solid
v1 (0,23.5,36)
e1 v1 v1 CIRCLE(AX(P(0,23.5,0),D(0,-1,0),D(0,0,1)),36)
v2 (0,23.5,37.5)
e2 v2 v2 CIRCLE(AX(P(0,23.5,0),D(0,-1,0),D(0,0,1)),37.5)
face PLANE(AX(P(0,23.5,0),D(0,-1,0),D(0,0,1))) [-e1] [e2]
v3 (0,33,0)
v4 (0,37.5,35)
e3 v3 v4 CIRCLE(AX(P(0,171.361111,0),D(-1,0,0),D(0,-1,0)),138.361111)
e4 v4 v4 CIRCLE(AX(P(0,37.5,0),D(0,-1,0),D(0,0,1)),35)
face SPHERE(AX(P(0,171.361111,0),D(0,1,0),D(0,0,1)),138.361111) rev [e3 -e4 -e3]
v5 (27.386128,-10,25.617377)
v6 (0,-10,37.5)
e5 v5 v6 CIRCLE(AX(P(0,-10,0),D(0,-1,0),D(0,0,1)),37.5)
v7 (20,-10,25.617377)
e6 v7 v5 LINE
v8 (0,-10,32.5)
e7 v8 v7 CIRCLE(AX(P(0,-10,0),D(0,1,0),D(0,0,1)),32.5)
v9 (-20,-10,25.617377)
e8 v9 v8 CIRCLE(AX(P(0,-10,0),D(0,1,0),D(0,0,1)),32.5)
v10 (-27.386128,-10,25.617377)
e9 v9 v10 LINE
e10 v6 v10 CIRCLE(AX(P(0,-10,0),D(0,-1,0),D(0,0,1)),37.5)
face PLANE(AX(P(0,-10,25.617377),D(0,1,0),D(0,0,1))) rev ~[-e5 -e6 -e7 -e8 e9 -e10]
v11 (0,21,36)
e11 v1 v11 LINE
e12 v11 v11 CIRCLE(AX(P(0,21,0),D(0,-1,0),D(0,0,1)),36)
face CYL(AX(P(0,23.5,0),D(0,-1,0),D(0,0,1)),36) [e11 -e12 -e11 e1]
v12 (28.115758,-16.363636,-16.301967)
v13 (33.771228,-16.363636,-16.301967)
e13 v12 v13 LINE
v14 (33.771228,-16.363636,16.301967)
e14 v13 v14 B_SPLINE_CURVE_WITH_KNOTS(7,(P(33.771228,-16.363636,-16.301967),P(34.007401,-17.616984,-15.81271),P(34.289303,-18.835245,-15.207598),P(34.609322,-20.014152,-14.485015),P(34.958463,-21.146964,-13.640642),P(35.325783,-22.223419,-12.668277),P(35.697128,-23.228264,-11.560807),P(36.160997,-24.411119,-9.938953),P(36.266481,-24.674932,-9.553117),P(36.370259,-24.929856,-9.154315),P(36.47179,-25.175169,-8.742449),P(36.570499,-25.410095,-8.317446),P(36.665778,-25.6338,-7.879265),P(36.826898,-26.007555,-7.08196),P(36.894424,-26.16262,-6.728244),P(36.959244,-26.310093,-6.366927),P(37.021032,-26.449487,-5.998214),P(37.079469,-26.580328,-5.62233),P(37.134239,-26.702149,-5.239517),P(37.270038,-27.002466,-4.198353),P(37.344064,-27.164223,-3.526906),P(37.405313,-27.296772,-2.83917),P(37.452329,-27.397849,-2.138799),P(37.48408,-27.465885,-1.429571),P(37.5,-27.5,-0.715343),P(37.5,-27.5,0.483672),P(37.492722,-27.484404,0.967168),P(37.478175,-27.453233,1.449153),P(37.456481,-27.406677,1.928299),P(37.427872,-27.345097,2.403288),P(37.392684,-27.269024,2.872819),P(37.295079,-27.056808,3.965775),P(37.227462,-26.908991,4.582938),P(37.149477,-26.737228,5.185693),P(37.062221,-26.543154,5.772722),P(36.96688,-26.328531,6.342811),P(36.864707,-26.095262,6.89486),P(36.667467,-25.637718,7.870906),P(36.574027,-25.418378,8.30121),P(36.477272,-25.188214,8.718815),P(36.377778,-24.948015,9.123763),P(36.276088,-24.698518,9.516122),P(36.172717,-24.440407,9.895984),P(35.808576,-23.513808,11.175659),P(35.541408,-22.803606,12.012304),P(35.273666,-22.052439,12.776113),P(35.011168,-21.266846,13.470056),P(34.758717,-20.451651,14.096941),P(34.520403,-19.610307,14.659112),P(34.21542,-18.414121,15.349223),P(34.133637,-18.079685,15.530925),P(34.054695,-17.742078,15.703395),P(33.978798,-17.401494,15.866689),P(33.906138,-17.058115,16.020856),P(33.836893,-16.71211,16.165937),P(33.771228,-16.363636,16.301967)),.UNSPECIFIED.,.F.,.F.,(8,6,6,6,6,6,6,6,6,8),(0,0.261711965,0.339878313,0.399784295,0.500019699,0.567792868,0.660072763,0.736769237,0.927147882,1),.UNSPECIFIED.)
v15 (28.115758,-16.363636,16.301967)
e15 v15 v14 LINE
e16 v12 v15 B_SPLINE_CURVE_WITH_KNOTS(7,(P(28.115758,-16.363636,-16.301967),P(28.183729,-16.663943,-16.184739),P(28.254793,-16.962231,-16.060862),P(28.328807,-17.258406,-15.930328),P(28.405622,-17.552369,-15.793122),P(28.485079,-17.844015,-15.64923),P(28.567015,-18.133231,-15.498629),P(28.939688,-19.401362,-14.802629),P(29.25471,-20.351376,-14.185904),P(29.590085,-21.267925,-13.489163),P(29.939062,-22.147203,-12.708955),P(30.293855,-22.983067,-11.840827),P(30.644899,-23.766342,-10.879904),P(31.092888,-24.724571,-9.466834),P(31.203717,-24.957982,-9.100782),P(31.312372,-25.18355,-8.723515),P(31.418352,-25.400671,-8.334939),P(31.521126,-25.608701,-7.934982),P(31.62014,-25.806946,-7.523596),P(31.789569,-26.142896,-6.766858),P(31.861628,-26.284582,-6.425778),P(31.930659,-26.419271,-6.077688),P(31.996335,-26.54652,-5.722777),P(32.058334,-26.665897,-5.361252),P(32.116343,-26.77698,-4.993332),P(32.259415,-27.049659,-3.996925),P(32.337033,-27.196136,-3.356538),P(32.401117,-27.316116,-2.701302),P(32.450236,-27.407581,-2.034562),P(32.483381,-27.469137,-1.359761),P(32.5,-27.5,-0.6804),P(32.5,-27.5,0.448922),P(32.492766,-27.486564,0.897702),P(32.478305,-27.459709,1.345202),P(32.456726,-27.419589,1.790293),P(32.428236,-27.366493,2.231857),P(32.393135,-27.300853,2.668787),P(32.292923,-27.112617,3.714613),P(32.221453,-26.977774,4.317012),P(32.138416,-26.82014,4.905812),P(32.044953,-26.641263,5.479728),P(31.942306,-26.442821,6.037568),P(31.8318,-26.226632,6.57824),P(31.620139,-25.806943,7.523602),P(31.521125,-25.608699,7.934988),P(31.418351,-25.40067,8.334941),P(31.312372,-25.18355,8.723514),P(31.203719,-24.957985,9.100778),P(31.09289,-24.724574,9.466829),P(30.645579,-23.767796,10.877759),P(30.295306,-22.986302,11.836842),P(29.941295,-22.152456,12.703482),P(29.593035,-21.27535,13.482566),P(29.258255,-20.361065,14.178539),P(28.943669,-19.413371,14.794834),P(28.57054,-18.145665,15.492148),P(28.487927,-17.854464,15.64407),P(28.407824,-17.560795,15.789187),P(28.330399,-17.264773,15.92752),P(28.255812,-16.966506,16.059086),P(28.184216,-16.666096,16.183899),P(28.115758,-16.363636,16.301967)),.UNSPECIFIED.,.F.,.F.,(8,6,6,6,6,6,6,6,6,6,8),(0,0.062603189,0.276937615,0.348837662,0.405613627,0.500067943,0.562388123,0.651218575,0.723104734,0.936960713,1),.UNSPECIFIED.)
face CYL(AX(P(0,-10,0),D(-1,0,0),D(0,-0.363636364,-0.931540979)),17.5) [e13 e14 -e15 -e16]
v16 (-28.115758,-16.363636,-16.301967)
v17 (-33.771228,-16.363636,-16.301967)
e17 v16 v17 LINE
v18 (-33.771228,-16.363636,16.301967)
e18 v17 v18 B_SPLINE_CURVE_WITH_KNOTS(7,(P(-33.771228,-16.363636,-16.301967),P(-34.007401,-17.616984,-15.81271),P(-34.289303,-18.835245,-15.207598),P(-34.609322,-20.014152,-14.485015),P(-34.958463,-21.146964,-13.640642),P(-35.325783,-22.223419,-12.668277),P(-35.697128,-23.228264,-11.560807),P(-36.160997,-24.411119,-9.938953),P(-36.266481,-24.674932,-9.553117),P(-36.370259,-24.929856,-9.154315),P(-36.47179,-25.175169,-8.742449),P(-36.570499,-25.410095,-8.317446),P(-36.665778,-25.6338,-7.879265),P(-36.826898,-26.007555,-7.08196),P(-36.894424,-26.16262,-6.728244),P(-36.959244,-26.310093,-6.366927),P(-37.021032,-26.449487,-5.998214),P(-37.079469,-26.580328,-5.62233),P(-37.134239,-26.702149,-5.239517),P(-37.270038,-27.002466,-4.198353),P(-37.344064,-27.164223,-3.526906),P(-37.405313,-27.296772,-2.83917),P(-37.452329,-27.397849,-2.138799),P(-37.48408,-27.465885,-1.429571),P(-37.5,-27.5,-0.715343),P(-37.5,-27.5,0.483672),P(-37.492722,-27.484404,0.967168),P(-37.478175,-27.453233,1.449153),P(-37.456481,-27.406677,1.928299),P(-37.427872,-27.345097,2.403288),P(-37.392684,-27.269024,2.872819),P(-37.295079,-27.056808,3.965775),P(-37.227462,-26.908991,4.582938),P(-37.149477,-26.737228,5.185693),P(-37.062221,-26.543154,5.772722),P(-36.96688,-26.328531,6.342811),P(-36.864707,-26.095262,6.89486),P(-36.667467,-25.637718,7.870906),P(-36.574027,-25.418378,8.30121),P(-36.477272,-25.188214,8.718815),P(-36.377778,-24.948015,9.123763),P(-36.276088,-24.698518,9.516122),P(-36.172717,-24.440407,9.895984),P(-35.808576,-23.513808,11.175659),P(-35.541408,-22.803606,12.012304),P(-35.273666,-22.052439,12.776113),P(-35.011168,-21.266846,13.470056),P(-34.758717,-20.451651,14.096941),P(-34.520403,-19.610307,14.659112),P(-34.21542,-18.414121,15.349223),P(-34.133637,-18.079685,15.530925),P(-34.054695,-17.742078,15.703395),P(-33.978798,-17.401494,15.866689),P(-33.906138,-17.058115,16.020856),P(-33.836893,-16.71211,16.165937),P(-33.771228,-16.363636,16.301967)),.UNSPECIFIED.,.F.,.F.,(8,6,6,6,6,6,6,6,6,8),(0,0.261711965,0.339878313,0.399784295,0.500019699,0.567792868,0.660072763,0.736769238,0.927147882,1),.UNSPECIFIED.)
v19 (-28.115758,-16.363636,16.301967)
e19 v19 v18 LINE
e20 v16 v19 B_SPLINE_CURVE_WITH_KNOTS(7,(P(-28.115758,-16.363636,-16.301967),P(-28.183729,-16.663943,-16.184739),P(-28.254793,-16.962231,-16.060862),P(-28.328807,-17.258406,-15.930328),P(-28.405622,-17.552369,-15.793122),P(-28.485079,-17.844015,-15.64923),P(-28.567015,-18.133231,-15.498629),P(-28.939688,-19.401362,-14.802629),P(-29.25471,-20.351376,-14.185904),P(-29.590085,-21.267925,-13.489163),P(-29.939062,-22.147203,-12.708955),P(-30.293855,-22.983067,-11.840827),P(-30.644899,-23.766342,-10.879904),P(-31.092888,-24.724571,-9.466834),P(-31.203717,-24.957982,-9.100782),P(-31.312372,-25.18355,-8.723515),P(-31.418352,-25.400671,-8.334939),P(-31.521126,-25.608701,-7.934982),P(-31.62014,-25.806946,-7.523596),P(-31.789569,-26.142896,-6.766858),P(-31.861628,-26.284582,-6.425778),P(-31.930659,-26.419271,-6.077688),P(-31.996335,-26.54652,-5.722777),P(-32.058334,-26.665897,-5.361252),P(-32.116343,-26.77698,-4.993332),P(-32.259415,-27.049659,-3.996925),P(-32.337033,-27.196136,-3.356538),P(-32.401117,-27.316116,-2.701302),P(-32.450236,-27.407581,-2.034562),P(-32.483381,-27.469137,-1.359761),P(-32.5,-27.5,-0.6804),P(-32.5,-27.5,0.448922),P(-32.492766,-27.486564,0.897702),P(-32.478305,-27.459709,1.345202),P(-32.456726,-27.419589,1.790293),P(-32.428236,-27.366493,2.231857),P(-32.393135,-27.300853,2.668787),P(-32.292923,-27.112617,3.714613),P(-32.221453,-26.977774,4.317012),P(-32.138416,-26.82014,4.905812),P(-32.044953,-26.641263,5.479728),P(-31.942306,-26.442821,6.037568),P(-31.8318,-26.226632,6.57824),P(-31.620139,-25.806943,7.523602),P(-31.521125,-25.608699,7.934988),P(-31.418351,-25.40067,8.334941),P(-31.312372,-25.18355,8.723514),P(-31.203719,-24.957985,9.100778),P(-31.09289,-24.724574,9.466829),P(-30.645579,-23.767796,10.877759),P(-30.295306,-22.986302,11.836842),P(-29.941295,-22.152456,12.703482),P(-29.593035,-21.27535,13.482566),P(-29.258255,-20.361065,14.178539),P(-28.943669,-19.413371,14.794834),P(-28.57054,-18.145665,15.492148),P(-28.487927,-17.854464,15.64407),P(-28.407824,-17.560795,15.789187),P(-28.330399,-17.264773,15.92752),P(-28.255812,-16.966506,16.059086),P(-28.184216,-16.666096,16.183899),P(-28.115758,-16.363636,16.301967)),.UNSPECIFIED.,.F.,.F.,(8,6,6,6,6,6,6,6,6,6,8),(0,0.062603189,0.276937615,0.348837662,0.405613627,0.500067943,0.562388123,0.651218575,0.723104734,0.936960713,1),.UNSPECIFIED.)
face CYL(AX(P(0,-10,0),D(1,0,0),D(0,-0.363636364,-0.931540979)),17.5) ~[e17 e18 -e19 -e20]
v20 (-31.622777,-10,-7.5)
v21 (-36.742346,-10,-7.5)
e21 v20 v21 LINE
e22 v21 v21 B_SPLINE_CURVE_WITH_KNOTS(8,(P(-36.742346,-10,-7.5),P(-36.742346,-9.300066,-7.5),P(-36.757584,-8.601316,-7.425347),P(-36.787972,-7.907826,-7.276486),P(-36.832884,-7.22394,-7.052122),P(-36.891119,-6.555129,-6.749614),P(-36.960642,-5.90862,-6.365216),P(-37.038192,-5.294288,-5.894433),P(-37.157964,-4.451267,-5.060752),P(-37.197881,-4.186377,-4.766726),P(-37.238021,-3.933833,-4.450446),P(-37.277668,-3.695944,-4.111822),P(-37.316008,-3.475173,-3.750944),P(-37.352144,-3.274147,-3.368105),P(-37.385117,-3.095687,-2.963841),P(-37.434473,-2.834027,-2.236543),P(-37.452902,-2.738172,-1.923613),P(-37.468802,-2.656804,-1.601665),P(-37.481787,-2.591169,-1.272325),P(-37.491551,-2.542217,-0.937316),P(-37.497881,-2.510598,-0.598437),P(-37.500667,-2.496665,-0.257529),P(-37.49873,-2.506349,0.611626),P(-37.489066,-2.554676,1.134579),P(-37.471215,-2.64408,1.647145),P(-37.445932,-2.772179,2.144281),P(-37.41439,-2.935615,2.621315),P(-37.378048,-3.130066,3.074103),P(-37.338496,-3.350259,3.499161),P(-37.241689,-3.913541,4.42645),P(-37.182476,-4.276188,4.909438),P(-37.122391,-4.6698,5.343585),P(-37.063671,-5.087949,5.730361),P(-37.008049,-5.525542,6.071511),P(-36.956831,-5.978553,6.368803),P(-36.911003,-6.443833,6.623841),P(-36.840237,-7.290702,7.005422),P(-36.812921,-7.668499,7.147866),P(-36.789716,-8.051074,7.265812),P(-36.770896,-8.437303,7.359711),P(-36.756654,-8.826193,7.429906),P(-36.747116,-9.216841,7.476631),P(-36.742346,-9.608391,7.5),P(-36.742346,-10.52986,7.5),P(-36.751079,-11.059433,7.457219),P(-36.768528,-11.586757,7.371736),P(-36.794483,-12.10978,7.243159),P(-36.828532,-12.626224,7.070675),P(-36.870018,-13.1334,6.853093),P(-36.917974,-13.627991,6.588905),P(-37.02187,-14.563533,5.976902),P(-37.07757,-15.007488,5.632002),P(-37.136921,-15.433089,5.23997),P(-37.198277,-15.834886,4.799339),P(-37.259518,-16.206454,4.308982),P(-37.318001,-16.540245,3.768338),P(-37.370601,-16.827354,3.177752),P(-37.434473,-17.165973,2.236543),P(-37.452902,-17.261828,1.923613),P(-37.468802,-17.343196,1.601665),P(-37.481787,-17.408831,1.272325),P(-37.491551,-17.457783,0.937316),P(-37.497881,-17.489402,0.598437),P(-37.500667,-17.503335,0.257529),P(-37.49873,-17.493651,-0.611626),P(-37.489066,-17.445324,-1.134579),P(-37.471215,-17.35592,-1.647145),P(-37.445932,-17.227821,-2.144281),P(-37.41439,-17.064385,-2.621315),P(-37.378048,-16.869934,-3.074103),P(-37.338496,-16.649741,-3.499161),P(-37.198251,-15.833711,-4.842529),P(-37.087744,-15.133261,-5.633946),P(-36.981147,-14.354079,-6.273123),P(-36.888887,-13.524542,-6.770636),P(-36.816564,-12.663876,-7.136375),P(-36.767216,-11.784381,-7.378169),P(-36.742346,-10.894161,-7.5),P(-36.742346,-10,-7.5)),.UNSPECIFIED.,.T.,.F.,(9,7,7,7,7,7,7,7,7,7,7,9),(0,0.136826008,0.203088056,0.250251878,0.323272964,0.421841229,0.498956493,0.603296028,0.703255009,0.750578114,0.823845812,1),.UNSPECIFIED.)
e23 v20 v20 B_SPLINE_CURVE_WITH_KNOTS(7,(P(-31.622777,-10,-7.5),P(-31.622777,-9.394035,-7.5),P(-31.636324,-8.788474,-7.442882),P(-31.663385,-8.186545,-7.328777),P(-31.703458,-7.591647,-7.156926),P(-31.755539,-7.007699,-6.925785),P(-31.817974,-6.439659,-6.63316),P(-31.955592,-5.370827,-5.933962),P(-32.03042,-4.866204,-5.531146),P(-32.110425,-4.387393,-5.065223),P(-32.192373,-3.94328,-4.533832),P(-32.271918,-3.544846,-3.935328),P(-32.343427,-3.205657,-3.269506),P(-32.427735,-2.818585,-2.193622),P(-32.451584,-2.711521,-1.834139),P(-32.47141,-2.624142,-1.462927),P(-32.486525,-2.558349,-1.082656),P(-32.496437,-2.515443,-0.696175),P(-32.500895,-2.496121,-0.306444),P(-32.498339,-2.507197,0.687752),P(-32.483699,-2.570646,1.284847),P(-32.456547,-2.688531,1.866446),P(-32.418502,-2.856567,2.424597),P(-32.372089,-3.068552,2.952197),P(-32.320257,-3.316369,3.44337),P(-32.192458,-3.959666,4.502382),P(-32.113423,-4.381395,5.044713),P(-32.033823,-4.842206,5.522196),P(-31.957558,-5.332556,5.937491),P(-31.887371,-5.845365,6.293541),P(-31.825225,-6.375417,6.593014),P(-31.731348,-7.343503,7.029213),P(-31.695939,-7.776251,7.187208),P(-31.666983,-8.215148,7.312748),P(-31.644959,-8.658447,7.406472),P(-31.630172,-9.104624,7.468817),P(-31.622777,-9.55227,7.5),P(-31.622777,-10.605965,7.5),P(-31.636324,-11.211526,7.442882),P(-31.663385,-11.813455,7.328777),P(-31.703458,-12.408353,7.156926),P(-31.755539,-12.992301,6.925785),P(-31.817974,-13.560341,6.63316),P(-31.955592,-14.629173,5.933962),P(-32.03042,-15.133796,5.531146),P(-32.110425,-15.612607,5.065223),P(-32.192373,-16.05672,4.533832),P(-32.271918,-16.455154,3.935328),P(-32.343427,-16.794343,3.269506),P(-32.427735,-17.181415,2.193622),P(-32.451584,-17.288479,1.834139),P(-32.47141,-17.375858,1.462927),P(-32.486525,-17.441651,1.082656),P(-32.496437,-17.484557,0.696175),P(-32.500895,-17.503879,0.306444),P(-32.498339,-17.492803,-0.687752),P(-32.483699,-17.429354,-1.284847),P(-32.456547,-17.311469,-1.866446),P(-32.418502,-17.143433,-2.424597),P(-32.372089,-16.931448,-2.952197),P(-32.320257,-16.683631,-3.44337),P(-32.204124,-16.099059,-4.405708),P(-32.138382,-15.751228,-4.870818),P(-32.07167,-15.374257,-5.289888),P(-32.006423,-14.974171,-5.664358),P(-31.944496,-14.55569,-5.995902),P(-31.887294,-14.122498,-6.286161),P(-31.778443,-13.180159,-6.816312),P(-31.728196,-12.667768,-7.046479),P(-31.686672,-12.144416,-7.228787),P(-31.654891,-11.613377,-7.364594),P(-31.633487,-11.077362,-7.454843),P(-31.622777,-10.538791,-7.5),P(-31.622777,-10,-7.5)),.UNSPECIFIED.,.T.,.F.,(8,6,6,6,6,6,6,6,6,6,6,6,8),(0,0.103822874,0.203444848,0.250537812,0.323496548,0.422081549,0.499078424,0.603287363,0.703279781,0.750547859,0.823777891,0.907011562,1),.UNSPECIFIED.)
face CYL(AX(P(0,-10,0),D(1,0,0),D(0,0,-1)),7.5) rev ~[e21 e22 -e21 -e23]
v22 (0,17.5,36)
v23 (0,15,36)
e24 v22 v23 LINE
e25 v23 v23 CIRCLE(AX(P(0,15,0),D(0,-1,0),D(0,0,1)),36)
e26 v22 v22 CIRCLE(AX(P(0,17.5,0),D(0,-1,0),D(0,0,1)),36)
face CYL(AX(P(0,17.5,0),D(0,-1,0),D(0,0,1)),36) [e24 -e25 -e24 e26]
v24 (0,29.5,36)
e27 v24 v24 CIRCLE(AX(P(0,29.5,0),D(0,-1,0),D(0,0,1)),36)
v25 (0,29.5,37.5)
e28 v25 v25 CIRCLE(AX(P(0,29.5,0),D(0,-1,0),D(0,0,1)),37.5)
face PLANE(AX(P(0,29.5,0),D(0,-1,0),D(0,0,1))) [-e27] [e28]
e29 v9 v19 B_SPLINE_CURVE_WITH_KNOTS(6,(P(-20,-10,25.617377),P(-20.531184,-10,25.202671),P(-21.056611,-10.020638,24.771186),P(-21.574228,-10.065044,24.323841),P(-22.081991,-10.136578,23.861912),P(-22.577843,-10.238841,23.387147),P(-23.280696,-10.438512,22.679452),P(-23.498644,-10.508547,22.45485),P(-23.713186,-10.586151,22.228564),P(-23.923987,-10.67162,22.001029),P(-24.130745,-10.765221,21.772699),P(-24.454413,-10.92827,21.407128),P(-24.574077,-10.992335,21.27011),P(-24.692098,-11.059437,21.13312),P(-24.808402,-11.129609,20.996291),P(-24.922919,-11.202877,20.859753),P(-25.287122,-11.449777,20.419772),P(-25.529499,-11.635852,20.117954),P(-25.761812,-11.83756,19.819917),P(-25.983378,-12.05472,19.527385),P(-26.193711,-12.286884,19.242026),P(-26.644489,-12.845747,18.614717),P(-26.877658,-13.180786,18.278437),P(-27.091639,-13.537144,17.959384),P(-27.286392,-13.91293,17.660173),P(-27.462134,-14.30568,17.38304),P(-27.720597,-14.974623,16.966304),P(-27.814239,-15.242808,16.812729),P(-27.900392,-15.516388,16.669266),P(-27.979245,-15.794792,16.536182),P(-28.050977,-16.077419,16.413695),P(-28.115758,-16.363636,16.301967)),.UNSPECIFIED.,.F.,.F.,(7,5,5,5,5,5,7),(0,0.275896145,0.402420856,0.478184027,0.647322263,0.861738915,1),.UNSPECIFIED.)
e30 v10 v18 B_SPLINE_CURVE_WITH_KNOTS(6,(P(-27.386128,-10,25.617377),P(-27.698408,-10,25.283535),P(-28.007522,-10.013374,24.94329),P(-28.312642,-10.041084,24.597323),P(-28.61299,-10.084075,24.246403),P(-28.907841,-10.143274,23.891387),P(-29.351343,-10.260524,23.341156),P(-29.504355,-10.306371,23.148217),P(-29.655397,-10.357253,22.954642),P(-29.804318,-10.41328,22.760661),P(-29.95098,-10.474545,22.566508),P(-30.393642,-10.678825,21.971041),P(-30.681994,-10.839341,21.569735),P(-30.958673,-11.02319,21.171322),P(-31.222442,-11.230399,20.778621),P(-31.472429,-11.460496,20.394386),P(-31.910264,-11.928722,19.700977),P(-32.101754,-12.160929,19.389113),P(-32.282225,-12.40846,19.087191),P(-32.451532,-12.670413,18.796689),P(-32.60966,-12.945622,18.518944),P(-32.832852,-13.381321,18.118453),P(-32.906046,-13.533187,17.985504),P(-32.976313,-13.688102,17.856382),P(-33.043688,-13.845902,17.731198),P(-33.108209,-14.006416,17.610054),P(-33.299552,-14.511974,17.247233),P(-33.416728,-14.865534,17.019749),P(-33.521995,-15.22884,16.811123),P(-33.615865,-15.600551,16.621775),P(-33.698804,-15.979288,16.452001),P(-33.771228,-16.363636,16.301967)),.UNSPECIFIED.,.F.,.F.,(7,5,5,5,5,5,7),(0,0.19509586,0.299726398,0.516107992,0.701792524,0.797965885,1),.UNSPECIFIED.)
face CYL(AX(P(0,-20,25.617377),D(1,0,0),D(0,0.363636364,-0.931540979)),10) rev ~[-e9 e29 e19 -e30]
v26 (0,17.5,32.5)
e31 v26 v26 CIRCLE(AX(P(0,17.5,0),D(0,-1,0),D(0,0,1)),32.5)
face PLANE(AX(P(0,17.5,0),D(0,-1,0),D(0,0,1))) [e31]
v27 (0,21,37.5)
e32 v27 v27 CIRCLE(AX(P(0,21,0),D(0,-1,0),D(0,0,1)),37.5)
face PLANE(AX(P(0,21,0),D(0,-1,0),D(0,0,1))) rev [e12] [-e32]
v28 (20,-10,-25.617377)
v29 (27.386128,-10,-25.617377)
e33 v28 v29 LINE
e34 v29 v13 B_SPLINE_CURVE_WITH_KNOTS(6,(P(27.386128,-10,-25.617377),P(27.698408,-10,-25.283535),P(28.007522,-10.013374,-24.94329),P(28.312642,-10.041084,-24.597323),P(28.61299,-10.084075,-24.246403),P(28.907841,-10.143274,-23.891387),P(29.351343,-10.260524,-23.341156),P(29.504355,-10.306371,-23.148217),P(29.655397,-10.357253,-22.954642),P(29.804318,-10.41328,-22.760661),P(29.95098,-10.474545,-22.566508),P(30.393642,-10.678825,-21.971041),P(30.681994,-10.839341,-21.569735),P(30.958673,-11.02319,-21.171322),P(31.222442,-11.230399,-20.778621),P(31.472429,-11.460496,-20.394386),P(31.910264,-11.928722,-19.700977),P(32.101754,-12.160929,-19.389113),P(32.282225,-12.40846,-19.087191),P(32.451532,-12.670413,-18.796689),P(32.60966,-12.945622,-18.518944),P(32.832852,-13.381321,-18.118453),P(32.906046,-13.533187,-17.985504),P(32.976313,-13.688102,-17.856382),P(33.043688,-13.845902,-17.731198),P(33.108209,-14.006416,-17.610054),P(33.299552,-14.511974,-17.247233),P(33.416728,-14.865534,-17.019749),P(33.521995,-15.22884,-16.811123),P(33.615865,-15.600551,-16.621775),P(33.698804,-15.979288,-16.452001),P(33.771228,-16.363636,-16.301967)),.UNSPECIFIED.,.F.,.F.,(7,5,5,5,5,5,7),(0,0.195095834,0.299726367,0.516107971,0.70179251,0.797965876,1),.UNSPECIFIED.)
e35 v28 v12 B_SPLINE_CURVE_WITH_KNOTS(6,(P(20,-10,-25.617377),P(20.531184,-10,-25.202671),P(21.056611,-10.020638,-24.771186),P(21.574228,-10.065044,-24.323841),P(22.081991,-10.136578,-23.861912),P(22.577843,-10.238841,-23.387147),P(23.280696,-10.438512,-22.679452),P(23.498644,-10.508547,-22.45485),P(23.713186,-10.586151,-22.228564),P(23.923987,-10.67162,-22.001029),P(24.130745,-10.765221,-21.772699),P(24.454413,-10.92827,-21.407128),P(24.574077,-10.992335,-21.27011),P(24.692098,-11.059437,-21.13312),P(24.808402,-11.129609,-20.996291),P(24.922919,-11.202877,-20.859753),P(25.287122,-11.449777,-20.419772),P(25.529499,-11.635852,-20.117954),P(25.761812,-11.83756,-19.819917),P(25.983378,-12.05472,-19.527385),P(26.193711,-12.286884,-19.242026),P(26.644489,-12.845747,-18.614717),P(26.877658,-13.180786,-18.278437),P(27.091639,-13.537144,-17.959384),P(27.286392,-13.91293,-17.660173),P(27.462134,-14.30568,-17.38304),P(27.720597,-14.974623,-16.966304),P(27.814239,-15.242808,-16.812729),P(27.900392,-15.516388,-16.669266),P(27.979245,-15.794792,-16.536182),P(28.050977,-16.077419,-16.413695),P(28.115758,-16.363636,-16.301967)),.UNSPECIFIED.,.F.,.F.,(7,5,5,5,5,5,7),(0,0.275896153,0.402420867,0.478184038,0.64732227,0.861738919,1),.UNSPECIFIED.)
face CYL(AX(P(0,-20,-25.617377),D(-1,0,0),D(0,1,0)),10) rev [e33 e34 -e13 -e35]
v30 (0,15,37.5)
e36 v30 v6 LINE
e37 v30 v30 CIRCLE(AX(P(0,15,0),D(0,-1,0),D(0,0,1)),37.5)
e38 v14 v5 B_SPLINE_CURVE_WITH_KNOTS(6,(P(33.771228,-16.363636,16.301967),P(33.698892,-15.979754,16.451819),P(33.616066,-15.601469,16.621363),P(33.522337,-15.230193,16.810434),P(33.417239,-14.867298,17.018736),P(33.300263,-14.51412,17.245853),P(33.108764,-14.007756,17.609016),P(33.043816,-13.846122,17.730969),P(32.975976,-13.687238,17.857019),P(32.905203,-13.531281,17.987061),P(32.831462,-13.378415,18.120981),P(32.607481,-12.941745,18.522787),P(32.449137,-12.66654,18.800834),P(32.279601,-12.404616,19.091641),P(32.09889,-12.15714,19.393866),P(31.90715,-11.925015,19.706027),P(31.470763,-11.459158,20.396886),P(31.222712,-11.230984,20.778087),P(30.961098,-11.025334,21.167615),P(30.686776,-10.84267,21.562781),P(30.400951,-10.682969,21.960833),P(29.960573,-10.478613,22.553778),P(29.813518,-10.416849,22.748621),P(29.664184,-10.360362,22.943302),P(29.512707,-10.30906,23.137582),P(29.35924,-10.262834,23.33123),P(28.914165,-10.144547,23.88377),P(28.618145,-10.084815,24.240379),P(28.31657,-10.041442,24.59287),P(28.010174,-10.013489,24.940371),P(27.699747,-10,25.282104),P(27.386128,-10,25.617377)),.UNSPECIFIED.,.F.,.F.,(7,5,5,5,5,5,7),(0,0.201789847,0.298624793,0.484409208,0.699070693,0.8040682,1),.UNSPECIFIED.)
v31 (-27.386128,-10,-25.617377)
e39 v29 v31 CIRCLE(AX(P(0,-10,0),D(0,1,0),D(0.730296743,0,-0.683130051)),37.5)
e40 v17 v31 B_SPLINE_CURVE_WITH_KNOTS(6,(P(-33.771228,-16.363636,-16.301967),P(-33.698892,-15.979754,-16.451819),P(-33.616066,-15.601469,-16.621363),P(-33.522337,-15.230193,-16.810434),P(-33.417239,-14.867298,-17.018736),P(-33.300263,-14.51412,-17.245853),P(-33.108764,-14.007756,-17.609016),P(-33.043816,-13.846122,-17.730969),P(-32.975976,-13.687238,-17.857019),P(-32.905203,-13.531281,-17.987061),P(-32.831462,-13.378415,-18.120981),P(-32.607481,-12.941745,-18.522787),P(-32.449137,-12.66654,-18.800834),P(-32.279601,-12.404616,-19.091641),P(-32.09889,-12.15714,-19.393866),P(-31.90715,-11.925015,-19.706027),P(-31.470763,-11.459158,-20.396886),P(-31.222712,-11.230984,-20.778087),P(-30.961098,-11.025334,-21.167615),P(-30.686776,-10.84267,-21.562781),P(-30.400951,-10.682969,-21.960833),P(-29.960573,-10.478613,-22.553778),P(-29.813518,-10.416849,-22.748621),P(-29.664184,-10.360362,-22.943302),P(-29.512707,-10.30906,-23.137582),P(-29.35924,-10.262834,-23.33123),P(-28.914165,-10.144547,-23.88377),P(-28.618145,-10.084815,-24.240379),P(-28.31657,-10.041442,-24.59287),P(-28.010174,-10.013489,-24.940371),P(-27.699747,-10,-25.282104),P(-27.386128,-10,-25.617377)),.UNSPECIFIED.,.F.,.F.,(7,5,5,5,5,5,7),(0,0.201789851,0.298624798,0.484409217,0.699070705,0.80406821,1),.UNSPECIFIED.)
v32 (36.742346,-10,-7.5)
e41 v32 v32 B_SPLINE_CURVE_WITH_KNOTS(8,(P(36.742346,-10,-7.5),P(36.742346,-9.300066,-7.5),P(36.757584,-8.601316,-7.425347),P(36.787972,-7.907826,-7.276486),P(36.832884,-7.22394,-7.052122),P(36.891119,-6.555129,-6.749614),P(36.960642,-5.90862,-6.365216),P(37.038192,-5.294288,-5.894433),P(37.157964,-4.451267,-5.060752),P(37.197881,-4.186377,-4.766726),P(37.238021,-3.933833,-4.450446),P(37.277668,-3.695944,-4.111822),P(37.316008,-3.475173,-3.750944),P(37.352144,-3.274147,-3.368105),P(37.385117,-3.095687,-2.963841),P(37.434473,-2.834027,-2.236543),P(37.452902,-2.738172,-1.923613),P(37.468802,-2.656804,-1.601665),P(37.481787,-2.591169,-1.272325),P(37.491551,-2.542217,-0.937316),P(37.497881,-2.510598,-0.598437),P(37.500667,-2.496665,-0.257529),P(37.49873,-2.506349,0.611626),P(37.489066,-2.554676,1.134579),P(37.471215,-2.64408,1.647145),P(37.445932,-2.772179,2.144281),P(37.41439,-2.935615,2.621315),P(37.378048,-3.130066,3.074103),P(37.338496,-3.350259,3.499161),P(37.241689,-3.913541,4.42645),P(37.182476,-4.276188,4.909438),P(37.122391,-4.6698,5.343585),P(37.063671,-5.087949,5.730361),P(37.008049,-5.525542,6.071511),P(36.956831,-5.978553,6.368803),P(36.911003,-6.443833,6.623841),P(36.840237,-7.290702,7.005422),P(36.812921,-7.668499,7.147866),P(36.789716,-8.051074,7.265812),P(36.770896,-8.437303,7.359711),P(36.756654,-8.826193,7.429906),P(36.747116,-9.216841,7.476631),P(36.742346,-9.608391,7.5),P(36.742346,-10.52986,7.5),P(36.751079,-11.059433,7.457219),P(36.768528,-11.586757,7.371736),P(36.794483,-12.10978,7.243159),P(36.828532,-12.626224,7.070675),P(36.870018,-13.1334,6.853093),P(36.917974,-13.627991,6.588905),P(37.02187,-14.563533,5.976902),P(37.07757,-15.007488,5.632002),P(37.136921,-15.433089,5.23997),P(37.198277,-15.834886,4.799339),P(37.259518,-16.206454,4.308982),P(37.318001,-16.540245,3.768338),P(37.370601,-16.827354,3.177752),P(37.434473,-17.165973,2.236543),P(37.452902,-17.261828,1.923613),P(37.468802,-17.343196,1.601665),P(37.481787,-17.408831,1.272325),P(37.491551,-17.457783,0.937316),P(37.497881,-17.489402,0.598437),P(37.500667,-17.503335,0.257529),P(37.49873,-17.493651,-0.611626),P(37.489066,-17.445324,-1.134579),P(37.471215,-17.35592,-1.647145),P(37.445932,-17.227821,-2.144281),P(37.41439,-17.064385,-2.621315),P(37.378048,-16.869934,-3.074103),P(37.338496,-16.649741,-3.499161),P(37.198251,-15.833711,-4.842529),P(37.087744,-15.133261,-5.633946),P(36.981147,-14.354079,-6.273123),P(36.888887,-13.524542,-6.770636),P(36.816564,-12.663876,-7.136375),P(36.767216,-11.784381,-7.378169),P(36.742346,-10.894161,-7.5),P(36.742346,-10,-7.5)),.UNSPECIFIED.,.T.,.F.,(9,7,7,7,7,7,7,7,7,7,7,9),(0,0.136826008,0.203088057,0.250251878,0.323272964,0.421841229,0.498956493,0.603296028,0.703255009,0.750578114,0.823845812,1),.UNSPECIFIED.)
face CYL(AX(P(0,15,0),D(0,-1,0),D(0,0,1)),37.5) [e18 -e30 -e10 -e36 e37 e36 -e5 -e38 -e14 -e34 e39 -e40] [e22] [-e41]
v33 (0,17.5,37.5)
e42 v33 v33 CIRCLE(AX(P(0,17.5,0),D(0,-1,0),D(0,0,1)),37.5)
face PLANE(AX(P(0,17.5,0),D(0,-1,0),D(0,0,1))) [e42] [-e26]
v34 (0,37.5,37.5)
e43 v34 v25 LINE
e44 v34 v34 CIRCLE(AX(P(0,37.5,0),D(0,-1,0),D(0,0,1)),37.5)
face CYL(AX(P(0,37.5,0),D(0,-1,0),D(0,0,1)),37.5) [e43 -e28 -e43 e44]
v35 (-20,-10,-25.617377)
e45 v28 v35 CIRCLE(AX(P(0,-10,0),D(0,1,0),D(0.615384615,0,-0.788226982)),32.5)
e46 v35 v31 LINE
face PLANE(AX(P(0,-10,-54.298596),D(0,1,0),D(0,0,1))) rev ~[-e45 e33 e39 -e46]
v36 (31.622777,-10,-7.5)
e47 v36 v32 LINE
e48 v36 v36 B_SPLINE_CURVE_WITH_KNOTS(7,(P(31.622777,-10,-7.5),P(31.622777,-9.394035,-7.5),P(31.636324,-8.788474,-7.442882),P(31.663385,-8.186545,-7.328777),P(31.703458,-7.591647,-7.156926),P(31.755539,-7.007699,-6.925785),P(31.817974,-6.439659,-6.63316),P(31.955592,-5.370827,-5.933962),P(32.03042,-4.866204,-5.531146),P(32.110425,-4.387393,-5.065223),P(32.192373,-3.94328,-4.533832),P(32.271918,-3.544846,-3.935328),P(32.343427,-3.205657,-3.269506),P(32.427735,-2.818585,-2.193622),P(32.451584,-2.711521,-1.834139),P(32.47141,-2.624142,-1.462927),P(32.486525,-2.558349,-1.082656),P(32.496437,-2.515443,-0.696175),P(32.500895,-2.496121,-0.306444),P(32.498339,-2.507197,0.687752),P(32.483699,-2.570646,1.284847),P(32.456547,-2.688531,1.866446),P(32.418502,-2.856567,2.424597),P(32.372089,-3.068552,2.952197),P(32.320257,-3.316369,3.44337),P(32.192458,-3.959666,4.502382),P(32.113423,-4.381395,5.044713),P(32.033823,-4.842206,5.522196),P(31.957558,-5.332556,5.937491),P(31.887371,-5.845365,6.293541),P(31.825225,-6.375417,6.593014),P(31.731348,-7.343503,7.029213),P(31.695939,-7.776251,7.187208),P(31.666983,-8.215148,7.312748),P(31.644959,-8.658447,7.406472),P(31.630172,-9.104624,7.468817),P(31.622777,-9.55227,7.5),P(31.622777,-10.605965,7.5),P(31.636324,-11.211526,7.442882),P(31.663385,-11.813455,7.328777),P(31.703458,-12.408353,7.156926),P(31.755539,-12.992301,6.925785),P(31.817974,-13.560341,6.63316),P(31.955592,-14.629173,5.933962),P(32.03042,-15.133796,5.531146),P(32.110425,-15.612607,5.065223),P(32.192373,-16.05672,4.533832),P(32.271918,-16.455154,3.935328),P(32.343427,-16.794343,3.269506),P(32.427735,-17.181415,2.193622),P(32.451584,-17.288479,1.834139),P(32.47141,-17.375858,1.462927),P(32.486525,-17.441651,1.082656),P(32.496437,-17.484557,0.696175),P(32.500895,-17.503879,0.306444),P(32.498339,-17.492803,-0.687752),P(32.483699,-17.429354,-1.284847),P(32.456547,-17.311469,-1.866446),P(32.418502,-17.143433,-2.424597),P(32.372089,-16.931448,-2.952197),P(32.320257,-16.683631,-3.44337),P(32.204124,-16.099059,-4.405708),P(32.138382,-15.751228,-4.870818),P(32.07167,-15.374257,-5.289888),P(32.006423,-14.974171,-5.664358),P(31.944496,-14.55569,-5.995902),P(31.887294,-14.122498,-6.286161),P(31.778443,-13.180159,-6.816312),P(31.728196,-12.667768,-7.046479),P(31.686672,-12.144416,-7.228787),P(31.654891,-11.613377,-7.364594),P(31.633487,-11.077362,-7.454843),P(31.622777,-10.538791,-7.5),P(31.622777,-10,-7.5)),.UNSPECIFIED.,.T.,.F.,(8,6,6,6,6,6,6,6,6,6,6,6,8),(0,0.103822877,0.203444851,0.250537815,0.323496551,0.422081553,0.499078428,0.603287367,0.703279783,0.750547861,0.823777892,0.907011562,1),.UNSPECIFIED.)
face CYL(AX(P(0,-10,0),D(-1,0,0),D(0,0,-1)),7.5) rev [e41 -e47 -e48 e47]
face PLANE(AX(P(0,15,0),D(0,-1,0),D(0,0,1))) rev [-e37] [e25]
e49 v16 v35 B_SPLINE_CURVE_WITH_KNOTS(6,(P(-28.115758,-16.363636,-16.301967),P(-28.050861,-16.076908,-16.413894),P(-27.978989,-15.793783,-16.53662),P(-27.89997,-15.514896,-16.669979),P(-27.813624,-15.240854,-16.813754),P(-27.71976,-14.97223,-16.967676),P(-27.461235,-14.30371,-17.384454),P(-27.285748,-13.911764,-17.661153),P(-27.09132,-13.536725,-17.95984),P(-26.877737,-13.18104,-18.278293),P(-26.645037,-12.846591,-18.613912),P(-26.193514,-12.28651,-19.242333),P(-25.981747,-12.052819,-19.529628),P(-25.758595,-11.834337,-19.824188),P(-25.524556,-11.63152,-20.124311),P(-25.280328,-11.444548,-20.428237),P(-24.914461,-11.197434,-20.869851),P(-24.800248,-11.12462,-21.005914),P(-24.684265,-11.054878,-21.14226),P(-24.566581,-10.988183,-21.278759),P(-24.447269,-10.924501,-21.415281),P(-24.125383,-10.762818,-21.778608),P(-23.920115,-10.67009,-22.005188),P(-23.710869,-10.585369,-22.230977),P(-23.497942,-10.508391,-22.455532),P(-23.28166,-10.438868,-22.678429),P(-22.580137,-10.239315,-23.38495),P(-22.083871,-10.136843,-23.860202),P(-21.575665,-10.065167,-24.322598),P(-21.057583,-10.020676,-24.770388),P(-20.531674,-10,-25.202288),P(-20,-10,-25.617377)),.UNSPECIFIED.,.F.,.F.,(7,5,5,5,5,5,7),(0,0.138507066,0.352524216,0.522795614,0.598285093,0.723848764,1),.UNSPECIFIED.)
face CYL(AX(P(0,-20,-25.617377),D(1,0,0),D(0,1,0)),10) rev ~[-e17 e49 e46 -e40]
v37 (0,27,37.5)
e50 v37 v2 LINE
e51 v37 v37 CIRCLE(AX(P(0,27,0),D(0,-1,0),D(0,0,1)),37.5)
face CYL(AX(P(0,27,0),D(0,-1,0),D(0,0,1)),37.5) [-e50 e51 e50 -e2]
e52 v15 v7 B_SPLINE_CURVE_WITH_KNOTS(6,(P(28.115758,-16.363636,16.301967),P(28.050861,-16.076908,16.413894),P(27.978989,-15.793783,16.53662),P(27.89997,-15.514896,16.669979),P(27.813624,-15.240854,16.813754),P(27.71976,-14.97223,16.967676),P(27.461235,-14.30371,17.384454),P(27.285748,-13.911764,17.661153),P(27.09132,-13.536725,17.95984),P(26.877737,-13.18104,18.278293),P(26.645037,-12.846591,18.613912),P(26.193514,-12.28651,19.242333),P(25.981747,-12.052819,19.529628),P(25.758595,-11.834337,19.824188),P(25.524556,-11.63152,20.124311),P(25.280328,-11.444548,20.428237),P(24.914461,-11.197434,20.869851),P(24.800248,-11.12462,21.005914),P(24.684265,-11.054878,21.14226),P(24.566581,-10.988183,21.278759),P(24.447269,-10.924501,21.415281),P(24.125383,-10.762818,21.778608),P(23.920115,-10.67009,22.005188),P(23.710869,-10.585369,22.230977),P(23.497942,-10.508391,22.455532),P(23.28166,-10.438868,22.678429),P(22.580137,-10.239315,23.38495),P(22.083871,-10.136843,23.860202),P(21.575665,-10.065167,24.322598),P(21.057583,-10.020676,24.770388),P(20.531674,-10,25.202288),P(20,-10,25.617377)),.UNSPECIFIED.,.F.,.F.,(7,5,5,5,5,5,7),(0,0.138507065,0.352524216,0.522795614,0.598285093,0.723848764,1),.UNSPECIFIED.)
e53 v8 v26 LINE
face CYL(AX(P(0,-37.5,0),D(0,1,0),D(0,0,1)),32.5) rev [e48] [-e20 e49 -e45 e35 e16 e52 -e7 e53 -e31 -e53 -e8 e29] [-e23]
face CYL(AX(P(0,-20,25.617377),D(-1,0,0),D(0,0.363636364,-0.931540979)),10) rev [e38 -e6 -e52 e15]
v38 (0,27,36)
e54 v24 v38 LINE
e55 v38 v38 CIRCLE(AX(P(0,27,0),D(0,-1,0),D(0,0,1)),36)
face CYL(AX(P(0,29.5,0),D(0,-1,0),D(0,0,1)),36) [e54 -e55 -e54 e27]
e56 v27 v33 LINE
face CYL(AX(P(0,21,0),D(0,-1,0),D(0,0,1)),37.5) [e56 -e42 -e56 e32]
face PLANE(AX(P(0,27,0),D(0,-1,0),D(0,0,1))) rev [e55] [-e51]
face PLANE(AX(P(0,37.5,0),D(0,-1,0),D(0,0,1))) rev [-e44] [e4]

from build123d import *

# Parameters (mm, degrees)
SKETCH2_R               = 7.5
CUT_EXTRUDE1_DEPTH      = 38.5
CUT_EXTRUDE1_DEPTH_BACK = 38.5
CUT_EXTRUDE2_DEPTH      = 38.500000101
CUT_EXTRUDE2_DEPTH_BACK = 38.500000101


with BuildPart() as part:
    # Sketch1 one side → Revolve1 (revolve)
    with BuildSketch(Plane(origin=(0, 0, 0), x_dir=(0, 0, -1), z_dir=(1, 0, 0))):
        with BuildLine():
            Line((-37.5, 15), (-37.5, -37.5))
            Line((-37.5, -37.5), (-32.5, -37.5))
            Line((-32.5, -37.5), (-32.5, 17.5))
            Line((-32.5, 17.5), (0, 17.5))
            Line((0, 17.5), (0, 33))
            ThreePointArc((0, 33), (-17.644049989, 34.1296112), (-35, 37.5))
            Line((-35, 37.5), (-37.5, 37.5))
            Line((-37.5, 37.5), (-37.5, 29.5))
            Line((-37.5, 29.5), (-36, 29.5))
            Line((-36, 29.5), (-36, 27))
            Line((-36, 27), (-37.5, 27))
            Line((-37.5, 27), (-37.5, 23.5))
            Line((-37.5, 23.5), (-36, 23.5))
            Line((-36, 23.5), (-36, 21))
            Line((-36, 21), (-37.5, 21))
            Line((-37.5, 21), (-37.5, 17.5))
            Line((-37.5, 17.5), (-36, 17.5))
            Line((-36, 17.5), (-36, 15))
            Line((-36, 15), (-37.5, 15))
        make_face()
    revolve(axis=Axis((0, 37.5, 0), (0, -1, 0)))

    # Sketch2 → Cut-Extrude1 (cut, two sides)
    with BuildSketch(Plane(origin=(0, 0, 0), x_dir=(0, 0, -1), z_dir=(1, 0, 0))) as cut_extrude1_sk:
        with Locations((0, -10)):
            Circle(SKETCH2_R)
    extrude(amount=CUT_EXTRUDE1_DEPTH, mode=Mode.SUBTRACT)
    extrude(cut_extrude1_sk.sketch, amount=-CUT_EXTRUDE1_DEPTH_BACK, mode=Mode.SUBTRACT)

    # Sketch3 → Cut-Extrude2 (cut, two sides)
    with BuildSketch(Plane(origin=(0, 0, 0), x_dir=(0, 0, -1), z_dir=(1, 0, 0))) as cut_extrude2_sk:
        with BuildLine():
            Line((55.2014237, -46.459477436), (54.298595824, -10))
            Line((54.298595824, -10), (25.617376915, -10))
            ThreePointArc((25.617376915, -10), (19.976616167, -11.742771762), (16.301967128, -16.363636364))
            ThreePointArc((16.301967128, -16.363636364), (0, -27.5), (-16.301967128, -16.363636364))
            ThreePointArc((-16.301967128, -16.363636364), (-19.976616167, -11.742771762), (-25.617376915, -10))
            Line((-25.617376915, -10), (-54.298595824, -10))
            Line((-54.298595824, -10), (-43.079650209, -45.071046523))
            Line((-43.079650209, -45.071046523), (55.2014237, -46.459477436))
        make_face()
    extrude(amount=CUT_EXTRUDE2_DEPTH, mode=Mode.SUBTRACT)
    extrude(cut_extrude2_sk.sketch, amount=-CUT_EXTRUDE2_DEPTH_BACK, mode=Mode.SUBTRACT)


solid = part.part
